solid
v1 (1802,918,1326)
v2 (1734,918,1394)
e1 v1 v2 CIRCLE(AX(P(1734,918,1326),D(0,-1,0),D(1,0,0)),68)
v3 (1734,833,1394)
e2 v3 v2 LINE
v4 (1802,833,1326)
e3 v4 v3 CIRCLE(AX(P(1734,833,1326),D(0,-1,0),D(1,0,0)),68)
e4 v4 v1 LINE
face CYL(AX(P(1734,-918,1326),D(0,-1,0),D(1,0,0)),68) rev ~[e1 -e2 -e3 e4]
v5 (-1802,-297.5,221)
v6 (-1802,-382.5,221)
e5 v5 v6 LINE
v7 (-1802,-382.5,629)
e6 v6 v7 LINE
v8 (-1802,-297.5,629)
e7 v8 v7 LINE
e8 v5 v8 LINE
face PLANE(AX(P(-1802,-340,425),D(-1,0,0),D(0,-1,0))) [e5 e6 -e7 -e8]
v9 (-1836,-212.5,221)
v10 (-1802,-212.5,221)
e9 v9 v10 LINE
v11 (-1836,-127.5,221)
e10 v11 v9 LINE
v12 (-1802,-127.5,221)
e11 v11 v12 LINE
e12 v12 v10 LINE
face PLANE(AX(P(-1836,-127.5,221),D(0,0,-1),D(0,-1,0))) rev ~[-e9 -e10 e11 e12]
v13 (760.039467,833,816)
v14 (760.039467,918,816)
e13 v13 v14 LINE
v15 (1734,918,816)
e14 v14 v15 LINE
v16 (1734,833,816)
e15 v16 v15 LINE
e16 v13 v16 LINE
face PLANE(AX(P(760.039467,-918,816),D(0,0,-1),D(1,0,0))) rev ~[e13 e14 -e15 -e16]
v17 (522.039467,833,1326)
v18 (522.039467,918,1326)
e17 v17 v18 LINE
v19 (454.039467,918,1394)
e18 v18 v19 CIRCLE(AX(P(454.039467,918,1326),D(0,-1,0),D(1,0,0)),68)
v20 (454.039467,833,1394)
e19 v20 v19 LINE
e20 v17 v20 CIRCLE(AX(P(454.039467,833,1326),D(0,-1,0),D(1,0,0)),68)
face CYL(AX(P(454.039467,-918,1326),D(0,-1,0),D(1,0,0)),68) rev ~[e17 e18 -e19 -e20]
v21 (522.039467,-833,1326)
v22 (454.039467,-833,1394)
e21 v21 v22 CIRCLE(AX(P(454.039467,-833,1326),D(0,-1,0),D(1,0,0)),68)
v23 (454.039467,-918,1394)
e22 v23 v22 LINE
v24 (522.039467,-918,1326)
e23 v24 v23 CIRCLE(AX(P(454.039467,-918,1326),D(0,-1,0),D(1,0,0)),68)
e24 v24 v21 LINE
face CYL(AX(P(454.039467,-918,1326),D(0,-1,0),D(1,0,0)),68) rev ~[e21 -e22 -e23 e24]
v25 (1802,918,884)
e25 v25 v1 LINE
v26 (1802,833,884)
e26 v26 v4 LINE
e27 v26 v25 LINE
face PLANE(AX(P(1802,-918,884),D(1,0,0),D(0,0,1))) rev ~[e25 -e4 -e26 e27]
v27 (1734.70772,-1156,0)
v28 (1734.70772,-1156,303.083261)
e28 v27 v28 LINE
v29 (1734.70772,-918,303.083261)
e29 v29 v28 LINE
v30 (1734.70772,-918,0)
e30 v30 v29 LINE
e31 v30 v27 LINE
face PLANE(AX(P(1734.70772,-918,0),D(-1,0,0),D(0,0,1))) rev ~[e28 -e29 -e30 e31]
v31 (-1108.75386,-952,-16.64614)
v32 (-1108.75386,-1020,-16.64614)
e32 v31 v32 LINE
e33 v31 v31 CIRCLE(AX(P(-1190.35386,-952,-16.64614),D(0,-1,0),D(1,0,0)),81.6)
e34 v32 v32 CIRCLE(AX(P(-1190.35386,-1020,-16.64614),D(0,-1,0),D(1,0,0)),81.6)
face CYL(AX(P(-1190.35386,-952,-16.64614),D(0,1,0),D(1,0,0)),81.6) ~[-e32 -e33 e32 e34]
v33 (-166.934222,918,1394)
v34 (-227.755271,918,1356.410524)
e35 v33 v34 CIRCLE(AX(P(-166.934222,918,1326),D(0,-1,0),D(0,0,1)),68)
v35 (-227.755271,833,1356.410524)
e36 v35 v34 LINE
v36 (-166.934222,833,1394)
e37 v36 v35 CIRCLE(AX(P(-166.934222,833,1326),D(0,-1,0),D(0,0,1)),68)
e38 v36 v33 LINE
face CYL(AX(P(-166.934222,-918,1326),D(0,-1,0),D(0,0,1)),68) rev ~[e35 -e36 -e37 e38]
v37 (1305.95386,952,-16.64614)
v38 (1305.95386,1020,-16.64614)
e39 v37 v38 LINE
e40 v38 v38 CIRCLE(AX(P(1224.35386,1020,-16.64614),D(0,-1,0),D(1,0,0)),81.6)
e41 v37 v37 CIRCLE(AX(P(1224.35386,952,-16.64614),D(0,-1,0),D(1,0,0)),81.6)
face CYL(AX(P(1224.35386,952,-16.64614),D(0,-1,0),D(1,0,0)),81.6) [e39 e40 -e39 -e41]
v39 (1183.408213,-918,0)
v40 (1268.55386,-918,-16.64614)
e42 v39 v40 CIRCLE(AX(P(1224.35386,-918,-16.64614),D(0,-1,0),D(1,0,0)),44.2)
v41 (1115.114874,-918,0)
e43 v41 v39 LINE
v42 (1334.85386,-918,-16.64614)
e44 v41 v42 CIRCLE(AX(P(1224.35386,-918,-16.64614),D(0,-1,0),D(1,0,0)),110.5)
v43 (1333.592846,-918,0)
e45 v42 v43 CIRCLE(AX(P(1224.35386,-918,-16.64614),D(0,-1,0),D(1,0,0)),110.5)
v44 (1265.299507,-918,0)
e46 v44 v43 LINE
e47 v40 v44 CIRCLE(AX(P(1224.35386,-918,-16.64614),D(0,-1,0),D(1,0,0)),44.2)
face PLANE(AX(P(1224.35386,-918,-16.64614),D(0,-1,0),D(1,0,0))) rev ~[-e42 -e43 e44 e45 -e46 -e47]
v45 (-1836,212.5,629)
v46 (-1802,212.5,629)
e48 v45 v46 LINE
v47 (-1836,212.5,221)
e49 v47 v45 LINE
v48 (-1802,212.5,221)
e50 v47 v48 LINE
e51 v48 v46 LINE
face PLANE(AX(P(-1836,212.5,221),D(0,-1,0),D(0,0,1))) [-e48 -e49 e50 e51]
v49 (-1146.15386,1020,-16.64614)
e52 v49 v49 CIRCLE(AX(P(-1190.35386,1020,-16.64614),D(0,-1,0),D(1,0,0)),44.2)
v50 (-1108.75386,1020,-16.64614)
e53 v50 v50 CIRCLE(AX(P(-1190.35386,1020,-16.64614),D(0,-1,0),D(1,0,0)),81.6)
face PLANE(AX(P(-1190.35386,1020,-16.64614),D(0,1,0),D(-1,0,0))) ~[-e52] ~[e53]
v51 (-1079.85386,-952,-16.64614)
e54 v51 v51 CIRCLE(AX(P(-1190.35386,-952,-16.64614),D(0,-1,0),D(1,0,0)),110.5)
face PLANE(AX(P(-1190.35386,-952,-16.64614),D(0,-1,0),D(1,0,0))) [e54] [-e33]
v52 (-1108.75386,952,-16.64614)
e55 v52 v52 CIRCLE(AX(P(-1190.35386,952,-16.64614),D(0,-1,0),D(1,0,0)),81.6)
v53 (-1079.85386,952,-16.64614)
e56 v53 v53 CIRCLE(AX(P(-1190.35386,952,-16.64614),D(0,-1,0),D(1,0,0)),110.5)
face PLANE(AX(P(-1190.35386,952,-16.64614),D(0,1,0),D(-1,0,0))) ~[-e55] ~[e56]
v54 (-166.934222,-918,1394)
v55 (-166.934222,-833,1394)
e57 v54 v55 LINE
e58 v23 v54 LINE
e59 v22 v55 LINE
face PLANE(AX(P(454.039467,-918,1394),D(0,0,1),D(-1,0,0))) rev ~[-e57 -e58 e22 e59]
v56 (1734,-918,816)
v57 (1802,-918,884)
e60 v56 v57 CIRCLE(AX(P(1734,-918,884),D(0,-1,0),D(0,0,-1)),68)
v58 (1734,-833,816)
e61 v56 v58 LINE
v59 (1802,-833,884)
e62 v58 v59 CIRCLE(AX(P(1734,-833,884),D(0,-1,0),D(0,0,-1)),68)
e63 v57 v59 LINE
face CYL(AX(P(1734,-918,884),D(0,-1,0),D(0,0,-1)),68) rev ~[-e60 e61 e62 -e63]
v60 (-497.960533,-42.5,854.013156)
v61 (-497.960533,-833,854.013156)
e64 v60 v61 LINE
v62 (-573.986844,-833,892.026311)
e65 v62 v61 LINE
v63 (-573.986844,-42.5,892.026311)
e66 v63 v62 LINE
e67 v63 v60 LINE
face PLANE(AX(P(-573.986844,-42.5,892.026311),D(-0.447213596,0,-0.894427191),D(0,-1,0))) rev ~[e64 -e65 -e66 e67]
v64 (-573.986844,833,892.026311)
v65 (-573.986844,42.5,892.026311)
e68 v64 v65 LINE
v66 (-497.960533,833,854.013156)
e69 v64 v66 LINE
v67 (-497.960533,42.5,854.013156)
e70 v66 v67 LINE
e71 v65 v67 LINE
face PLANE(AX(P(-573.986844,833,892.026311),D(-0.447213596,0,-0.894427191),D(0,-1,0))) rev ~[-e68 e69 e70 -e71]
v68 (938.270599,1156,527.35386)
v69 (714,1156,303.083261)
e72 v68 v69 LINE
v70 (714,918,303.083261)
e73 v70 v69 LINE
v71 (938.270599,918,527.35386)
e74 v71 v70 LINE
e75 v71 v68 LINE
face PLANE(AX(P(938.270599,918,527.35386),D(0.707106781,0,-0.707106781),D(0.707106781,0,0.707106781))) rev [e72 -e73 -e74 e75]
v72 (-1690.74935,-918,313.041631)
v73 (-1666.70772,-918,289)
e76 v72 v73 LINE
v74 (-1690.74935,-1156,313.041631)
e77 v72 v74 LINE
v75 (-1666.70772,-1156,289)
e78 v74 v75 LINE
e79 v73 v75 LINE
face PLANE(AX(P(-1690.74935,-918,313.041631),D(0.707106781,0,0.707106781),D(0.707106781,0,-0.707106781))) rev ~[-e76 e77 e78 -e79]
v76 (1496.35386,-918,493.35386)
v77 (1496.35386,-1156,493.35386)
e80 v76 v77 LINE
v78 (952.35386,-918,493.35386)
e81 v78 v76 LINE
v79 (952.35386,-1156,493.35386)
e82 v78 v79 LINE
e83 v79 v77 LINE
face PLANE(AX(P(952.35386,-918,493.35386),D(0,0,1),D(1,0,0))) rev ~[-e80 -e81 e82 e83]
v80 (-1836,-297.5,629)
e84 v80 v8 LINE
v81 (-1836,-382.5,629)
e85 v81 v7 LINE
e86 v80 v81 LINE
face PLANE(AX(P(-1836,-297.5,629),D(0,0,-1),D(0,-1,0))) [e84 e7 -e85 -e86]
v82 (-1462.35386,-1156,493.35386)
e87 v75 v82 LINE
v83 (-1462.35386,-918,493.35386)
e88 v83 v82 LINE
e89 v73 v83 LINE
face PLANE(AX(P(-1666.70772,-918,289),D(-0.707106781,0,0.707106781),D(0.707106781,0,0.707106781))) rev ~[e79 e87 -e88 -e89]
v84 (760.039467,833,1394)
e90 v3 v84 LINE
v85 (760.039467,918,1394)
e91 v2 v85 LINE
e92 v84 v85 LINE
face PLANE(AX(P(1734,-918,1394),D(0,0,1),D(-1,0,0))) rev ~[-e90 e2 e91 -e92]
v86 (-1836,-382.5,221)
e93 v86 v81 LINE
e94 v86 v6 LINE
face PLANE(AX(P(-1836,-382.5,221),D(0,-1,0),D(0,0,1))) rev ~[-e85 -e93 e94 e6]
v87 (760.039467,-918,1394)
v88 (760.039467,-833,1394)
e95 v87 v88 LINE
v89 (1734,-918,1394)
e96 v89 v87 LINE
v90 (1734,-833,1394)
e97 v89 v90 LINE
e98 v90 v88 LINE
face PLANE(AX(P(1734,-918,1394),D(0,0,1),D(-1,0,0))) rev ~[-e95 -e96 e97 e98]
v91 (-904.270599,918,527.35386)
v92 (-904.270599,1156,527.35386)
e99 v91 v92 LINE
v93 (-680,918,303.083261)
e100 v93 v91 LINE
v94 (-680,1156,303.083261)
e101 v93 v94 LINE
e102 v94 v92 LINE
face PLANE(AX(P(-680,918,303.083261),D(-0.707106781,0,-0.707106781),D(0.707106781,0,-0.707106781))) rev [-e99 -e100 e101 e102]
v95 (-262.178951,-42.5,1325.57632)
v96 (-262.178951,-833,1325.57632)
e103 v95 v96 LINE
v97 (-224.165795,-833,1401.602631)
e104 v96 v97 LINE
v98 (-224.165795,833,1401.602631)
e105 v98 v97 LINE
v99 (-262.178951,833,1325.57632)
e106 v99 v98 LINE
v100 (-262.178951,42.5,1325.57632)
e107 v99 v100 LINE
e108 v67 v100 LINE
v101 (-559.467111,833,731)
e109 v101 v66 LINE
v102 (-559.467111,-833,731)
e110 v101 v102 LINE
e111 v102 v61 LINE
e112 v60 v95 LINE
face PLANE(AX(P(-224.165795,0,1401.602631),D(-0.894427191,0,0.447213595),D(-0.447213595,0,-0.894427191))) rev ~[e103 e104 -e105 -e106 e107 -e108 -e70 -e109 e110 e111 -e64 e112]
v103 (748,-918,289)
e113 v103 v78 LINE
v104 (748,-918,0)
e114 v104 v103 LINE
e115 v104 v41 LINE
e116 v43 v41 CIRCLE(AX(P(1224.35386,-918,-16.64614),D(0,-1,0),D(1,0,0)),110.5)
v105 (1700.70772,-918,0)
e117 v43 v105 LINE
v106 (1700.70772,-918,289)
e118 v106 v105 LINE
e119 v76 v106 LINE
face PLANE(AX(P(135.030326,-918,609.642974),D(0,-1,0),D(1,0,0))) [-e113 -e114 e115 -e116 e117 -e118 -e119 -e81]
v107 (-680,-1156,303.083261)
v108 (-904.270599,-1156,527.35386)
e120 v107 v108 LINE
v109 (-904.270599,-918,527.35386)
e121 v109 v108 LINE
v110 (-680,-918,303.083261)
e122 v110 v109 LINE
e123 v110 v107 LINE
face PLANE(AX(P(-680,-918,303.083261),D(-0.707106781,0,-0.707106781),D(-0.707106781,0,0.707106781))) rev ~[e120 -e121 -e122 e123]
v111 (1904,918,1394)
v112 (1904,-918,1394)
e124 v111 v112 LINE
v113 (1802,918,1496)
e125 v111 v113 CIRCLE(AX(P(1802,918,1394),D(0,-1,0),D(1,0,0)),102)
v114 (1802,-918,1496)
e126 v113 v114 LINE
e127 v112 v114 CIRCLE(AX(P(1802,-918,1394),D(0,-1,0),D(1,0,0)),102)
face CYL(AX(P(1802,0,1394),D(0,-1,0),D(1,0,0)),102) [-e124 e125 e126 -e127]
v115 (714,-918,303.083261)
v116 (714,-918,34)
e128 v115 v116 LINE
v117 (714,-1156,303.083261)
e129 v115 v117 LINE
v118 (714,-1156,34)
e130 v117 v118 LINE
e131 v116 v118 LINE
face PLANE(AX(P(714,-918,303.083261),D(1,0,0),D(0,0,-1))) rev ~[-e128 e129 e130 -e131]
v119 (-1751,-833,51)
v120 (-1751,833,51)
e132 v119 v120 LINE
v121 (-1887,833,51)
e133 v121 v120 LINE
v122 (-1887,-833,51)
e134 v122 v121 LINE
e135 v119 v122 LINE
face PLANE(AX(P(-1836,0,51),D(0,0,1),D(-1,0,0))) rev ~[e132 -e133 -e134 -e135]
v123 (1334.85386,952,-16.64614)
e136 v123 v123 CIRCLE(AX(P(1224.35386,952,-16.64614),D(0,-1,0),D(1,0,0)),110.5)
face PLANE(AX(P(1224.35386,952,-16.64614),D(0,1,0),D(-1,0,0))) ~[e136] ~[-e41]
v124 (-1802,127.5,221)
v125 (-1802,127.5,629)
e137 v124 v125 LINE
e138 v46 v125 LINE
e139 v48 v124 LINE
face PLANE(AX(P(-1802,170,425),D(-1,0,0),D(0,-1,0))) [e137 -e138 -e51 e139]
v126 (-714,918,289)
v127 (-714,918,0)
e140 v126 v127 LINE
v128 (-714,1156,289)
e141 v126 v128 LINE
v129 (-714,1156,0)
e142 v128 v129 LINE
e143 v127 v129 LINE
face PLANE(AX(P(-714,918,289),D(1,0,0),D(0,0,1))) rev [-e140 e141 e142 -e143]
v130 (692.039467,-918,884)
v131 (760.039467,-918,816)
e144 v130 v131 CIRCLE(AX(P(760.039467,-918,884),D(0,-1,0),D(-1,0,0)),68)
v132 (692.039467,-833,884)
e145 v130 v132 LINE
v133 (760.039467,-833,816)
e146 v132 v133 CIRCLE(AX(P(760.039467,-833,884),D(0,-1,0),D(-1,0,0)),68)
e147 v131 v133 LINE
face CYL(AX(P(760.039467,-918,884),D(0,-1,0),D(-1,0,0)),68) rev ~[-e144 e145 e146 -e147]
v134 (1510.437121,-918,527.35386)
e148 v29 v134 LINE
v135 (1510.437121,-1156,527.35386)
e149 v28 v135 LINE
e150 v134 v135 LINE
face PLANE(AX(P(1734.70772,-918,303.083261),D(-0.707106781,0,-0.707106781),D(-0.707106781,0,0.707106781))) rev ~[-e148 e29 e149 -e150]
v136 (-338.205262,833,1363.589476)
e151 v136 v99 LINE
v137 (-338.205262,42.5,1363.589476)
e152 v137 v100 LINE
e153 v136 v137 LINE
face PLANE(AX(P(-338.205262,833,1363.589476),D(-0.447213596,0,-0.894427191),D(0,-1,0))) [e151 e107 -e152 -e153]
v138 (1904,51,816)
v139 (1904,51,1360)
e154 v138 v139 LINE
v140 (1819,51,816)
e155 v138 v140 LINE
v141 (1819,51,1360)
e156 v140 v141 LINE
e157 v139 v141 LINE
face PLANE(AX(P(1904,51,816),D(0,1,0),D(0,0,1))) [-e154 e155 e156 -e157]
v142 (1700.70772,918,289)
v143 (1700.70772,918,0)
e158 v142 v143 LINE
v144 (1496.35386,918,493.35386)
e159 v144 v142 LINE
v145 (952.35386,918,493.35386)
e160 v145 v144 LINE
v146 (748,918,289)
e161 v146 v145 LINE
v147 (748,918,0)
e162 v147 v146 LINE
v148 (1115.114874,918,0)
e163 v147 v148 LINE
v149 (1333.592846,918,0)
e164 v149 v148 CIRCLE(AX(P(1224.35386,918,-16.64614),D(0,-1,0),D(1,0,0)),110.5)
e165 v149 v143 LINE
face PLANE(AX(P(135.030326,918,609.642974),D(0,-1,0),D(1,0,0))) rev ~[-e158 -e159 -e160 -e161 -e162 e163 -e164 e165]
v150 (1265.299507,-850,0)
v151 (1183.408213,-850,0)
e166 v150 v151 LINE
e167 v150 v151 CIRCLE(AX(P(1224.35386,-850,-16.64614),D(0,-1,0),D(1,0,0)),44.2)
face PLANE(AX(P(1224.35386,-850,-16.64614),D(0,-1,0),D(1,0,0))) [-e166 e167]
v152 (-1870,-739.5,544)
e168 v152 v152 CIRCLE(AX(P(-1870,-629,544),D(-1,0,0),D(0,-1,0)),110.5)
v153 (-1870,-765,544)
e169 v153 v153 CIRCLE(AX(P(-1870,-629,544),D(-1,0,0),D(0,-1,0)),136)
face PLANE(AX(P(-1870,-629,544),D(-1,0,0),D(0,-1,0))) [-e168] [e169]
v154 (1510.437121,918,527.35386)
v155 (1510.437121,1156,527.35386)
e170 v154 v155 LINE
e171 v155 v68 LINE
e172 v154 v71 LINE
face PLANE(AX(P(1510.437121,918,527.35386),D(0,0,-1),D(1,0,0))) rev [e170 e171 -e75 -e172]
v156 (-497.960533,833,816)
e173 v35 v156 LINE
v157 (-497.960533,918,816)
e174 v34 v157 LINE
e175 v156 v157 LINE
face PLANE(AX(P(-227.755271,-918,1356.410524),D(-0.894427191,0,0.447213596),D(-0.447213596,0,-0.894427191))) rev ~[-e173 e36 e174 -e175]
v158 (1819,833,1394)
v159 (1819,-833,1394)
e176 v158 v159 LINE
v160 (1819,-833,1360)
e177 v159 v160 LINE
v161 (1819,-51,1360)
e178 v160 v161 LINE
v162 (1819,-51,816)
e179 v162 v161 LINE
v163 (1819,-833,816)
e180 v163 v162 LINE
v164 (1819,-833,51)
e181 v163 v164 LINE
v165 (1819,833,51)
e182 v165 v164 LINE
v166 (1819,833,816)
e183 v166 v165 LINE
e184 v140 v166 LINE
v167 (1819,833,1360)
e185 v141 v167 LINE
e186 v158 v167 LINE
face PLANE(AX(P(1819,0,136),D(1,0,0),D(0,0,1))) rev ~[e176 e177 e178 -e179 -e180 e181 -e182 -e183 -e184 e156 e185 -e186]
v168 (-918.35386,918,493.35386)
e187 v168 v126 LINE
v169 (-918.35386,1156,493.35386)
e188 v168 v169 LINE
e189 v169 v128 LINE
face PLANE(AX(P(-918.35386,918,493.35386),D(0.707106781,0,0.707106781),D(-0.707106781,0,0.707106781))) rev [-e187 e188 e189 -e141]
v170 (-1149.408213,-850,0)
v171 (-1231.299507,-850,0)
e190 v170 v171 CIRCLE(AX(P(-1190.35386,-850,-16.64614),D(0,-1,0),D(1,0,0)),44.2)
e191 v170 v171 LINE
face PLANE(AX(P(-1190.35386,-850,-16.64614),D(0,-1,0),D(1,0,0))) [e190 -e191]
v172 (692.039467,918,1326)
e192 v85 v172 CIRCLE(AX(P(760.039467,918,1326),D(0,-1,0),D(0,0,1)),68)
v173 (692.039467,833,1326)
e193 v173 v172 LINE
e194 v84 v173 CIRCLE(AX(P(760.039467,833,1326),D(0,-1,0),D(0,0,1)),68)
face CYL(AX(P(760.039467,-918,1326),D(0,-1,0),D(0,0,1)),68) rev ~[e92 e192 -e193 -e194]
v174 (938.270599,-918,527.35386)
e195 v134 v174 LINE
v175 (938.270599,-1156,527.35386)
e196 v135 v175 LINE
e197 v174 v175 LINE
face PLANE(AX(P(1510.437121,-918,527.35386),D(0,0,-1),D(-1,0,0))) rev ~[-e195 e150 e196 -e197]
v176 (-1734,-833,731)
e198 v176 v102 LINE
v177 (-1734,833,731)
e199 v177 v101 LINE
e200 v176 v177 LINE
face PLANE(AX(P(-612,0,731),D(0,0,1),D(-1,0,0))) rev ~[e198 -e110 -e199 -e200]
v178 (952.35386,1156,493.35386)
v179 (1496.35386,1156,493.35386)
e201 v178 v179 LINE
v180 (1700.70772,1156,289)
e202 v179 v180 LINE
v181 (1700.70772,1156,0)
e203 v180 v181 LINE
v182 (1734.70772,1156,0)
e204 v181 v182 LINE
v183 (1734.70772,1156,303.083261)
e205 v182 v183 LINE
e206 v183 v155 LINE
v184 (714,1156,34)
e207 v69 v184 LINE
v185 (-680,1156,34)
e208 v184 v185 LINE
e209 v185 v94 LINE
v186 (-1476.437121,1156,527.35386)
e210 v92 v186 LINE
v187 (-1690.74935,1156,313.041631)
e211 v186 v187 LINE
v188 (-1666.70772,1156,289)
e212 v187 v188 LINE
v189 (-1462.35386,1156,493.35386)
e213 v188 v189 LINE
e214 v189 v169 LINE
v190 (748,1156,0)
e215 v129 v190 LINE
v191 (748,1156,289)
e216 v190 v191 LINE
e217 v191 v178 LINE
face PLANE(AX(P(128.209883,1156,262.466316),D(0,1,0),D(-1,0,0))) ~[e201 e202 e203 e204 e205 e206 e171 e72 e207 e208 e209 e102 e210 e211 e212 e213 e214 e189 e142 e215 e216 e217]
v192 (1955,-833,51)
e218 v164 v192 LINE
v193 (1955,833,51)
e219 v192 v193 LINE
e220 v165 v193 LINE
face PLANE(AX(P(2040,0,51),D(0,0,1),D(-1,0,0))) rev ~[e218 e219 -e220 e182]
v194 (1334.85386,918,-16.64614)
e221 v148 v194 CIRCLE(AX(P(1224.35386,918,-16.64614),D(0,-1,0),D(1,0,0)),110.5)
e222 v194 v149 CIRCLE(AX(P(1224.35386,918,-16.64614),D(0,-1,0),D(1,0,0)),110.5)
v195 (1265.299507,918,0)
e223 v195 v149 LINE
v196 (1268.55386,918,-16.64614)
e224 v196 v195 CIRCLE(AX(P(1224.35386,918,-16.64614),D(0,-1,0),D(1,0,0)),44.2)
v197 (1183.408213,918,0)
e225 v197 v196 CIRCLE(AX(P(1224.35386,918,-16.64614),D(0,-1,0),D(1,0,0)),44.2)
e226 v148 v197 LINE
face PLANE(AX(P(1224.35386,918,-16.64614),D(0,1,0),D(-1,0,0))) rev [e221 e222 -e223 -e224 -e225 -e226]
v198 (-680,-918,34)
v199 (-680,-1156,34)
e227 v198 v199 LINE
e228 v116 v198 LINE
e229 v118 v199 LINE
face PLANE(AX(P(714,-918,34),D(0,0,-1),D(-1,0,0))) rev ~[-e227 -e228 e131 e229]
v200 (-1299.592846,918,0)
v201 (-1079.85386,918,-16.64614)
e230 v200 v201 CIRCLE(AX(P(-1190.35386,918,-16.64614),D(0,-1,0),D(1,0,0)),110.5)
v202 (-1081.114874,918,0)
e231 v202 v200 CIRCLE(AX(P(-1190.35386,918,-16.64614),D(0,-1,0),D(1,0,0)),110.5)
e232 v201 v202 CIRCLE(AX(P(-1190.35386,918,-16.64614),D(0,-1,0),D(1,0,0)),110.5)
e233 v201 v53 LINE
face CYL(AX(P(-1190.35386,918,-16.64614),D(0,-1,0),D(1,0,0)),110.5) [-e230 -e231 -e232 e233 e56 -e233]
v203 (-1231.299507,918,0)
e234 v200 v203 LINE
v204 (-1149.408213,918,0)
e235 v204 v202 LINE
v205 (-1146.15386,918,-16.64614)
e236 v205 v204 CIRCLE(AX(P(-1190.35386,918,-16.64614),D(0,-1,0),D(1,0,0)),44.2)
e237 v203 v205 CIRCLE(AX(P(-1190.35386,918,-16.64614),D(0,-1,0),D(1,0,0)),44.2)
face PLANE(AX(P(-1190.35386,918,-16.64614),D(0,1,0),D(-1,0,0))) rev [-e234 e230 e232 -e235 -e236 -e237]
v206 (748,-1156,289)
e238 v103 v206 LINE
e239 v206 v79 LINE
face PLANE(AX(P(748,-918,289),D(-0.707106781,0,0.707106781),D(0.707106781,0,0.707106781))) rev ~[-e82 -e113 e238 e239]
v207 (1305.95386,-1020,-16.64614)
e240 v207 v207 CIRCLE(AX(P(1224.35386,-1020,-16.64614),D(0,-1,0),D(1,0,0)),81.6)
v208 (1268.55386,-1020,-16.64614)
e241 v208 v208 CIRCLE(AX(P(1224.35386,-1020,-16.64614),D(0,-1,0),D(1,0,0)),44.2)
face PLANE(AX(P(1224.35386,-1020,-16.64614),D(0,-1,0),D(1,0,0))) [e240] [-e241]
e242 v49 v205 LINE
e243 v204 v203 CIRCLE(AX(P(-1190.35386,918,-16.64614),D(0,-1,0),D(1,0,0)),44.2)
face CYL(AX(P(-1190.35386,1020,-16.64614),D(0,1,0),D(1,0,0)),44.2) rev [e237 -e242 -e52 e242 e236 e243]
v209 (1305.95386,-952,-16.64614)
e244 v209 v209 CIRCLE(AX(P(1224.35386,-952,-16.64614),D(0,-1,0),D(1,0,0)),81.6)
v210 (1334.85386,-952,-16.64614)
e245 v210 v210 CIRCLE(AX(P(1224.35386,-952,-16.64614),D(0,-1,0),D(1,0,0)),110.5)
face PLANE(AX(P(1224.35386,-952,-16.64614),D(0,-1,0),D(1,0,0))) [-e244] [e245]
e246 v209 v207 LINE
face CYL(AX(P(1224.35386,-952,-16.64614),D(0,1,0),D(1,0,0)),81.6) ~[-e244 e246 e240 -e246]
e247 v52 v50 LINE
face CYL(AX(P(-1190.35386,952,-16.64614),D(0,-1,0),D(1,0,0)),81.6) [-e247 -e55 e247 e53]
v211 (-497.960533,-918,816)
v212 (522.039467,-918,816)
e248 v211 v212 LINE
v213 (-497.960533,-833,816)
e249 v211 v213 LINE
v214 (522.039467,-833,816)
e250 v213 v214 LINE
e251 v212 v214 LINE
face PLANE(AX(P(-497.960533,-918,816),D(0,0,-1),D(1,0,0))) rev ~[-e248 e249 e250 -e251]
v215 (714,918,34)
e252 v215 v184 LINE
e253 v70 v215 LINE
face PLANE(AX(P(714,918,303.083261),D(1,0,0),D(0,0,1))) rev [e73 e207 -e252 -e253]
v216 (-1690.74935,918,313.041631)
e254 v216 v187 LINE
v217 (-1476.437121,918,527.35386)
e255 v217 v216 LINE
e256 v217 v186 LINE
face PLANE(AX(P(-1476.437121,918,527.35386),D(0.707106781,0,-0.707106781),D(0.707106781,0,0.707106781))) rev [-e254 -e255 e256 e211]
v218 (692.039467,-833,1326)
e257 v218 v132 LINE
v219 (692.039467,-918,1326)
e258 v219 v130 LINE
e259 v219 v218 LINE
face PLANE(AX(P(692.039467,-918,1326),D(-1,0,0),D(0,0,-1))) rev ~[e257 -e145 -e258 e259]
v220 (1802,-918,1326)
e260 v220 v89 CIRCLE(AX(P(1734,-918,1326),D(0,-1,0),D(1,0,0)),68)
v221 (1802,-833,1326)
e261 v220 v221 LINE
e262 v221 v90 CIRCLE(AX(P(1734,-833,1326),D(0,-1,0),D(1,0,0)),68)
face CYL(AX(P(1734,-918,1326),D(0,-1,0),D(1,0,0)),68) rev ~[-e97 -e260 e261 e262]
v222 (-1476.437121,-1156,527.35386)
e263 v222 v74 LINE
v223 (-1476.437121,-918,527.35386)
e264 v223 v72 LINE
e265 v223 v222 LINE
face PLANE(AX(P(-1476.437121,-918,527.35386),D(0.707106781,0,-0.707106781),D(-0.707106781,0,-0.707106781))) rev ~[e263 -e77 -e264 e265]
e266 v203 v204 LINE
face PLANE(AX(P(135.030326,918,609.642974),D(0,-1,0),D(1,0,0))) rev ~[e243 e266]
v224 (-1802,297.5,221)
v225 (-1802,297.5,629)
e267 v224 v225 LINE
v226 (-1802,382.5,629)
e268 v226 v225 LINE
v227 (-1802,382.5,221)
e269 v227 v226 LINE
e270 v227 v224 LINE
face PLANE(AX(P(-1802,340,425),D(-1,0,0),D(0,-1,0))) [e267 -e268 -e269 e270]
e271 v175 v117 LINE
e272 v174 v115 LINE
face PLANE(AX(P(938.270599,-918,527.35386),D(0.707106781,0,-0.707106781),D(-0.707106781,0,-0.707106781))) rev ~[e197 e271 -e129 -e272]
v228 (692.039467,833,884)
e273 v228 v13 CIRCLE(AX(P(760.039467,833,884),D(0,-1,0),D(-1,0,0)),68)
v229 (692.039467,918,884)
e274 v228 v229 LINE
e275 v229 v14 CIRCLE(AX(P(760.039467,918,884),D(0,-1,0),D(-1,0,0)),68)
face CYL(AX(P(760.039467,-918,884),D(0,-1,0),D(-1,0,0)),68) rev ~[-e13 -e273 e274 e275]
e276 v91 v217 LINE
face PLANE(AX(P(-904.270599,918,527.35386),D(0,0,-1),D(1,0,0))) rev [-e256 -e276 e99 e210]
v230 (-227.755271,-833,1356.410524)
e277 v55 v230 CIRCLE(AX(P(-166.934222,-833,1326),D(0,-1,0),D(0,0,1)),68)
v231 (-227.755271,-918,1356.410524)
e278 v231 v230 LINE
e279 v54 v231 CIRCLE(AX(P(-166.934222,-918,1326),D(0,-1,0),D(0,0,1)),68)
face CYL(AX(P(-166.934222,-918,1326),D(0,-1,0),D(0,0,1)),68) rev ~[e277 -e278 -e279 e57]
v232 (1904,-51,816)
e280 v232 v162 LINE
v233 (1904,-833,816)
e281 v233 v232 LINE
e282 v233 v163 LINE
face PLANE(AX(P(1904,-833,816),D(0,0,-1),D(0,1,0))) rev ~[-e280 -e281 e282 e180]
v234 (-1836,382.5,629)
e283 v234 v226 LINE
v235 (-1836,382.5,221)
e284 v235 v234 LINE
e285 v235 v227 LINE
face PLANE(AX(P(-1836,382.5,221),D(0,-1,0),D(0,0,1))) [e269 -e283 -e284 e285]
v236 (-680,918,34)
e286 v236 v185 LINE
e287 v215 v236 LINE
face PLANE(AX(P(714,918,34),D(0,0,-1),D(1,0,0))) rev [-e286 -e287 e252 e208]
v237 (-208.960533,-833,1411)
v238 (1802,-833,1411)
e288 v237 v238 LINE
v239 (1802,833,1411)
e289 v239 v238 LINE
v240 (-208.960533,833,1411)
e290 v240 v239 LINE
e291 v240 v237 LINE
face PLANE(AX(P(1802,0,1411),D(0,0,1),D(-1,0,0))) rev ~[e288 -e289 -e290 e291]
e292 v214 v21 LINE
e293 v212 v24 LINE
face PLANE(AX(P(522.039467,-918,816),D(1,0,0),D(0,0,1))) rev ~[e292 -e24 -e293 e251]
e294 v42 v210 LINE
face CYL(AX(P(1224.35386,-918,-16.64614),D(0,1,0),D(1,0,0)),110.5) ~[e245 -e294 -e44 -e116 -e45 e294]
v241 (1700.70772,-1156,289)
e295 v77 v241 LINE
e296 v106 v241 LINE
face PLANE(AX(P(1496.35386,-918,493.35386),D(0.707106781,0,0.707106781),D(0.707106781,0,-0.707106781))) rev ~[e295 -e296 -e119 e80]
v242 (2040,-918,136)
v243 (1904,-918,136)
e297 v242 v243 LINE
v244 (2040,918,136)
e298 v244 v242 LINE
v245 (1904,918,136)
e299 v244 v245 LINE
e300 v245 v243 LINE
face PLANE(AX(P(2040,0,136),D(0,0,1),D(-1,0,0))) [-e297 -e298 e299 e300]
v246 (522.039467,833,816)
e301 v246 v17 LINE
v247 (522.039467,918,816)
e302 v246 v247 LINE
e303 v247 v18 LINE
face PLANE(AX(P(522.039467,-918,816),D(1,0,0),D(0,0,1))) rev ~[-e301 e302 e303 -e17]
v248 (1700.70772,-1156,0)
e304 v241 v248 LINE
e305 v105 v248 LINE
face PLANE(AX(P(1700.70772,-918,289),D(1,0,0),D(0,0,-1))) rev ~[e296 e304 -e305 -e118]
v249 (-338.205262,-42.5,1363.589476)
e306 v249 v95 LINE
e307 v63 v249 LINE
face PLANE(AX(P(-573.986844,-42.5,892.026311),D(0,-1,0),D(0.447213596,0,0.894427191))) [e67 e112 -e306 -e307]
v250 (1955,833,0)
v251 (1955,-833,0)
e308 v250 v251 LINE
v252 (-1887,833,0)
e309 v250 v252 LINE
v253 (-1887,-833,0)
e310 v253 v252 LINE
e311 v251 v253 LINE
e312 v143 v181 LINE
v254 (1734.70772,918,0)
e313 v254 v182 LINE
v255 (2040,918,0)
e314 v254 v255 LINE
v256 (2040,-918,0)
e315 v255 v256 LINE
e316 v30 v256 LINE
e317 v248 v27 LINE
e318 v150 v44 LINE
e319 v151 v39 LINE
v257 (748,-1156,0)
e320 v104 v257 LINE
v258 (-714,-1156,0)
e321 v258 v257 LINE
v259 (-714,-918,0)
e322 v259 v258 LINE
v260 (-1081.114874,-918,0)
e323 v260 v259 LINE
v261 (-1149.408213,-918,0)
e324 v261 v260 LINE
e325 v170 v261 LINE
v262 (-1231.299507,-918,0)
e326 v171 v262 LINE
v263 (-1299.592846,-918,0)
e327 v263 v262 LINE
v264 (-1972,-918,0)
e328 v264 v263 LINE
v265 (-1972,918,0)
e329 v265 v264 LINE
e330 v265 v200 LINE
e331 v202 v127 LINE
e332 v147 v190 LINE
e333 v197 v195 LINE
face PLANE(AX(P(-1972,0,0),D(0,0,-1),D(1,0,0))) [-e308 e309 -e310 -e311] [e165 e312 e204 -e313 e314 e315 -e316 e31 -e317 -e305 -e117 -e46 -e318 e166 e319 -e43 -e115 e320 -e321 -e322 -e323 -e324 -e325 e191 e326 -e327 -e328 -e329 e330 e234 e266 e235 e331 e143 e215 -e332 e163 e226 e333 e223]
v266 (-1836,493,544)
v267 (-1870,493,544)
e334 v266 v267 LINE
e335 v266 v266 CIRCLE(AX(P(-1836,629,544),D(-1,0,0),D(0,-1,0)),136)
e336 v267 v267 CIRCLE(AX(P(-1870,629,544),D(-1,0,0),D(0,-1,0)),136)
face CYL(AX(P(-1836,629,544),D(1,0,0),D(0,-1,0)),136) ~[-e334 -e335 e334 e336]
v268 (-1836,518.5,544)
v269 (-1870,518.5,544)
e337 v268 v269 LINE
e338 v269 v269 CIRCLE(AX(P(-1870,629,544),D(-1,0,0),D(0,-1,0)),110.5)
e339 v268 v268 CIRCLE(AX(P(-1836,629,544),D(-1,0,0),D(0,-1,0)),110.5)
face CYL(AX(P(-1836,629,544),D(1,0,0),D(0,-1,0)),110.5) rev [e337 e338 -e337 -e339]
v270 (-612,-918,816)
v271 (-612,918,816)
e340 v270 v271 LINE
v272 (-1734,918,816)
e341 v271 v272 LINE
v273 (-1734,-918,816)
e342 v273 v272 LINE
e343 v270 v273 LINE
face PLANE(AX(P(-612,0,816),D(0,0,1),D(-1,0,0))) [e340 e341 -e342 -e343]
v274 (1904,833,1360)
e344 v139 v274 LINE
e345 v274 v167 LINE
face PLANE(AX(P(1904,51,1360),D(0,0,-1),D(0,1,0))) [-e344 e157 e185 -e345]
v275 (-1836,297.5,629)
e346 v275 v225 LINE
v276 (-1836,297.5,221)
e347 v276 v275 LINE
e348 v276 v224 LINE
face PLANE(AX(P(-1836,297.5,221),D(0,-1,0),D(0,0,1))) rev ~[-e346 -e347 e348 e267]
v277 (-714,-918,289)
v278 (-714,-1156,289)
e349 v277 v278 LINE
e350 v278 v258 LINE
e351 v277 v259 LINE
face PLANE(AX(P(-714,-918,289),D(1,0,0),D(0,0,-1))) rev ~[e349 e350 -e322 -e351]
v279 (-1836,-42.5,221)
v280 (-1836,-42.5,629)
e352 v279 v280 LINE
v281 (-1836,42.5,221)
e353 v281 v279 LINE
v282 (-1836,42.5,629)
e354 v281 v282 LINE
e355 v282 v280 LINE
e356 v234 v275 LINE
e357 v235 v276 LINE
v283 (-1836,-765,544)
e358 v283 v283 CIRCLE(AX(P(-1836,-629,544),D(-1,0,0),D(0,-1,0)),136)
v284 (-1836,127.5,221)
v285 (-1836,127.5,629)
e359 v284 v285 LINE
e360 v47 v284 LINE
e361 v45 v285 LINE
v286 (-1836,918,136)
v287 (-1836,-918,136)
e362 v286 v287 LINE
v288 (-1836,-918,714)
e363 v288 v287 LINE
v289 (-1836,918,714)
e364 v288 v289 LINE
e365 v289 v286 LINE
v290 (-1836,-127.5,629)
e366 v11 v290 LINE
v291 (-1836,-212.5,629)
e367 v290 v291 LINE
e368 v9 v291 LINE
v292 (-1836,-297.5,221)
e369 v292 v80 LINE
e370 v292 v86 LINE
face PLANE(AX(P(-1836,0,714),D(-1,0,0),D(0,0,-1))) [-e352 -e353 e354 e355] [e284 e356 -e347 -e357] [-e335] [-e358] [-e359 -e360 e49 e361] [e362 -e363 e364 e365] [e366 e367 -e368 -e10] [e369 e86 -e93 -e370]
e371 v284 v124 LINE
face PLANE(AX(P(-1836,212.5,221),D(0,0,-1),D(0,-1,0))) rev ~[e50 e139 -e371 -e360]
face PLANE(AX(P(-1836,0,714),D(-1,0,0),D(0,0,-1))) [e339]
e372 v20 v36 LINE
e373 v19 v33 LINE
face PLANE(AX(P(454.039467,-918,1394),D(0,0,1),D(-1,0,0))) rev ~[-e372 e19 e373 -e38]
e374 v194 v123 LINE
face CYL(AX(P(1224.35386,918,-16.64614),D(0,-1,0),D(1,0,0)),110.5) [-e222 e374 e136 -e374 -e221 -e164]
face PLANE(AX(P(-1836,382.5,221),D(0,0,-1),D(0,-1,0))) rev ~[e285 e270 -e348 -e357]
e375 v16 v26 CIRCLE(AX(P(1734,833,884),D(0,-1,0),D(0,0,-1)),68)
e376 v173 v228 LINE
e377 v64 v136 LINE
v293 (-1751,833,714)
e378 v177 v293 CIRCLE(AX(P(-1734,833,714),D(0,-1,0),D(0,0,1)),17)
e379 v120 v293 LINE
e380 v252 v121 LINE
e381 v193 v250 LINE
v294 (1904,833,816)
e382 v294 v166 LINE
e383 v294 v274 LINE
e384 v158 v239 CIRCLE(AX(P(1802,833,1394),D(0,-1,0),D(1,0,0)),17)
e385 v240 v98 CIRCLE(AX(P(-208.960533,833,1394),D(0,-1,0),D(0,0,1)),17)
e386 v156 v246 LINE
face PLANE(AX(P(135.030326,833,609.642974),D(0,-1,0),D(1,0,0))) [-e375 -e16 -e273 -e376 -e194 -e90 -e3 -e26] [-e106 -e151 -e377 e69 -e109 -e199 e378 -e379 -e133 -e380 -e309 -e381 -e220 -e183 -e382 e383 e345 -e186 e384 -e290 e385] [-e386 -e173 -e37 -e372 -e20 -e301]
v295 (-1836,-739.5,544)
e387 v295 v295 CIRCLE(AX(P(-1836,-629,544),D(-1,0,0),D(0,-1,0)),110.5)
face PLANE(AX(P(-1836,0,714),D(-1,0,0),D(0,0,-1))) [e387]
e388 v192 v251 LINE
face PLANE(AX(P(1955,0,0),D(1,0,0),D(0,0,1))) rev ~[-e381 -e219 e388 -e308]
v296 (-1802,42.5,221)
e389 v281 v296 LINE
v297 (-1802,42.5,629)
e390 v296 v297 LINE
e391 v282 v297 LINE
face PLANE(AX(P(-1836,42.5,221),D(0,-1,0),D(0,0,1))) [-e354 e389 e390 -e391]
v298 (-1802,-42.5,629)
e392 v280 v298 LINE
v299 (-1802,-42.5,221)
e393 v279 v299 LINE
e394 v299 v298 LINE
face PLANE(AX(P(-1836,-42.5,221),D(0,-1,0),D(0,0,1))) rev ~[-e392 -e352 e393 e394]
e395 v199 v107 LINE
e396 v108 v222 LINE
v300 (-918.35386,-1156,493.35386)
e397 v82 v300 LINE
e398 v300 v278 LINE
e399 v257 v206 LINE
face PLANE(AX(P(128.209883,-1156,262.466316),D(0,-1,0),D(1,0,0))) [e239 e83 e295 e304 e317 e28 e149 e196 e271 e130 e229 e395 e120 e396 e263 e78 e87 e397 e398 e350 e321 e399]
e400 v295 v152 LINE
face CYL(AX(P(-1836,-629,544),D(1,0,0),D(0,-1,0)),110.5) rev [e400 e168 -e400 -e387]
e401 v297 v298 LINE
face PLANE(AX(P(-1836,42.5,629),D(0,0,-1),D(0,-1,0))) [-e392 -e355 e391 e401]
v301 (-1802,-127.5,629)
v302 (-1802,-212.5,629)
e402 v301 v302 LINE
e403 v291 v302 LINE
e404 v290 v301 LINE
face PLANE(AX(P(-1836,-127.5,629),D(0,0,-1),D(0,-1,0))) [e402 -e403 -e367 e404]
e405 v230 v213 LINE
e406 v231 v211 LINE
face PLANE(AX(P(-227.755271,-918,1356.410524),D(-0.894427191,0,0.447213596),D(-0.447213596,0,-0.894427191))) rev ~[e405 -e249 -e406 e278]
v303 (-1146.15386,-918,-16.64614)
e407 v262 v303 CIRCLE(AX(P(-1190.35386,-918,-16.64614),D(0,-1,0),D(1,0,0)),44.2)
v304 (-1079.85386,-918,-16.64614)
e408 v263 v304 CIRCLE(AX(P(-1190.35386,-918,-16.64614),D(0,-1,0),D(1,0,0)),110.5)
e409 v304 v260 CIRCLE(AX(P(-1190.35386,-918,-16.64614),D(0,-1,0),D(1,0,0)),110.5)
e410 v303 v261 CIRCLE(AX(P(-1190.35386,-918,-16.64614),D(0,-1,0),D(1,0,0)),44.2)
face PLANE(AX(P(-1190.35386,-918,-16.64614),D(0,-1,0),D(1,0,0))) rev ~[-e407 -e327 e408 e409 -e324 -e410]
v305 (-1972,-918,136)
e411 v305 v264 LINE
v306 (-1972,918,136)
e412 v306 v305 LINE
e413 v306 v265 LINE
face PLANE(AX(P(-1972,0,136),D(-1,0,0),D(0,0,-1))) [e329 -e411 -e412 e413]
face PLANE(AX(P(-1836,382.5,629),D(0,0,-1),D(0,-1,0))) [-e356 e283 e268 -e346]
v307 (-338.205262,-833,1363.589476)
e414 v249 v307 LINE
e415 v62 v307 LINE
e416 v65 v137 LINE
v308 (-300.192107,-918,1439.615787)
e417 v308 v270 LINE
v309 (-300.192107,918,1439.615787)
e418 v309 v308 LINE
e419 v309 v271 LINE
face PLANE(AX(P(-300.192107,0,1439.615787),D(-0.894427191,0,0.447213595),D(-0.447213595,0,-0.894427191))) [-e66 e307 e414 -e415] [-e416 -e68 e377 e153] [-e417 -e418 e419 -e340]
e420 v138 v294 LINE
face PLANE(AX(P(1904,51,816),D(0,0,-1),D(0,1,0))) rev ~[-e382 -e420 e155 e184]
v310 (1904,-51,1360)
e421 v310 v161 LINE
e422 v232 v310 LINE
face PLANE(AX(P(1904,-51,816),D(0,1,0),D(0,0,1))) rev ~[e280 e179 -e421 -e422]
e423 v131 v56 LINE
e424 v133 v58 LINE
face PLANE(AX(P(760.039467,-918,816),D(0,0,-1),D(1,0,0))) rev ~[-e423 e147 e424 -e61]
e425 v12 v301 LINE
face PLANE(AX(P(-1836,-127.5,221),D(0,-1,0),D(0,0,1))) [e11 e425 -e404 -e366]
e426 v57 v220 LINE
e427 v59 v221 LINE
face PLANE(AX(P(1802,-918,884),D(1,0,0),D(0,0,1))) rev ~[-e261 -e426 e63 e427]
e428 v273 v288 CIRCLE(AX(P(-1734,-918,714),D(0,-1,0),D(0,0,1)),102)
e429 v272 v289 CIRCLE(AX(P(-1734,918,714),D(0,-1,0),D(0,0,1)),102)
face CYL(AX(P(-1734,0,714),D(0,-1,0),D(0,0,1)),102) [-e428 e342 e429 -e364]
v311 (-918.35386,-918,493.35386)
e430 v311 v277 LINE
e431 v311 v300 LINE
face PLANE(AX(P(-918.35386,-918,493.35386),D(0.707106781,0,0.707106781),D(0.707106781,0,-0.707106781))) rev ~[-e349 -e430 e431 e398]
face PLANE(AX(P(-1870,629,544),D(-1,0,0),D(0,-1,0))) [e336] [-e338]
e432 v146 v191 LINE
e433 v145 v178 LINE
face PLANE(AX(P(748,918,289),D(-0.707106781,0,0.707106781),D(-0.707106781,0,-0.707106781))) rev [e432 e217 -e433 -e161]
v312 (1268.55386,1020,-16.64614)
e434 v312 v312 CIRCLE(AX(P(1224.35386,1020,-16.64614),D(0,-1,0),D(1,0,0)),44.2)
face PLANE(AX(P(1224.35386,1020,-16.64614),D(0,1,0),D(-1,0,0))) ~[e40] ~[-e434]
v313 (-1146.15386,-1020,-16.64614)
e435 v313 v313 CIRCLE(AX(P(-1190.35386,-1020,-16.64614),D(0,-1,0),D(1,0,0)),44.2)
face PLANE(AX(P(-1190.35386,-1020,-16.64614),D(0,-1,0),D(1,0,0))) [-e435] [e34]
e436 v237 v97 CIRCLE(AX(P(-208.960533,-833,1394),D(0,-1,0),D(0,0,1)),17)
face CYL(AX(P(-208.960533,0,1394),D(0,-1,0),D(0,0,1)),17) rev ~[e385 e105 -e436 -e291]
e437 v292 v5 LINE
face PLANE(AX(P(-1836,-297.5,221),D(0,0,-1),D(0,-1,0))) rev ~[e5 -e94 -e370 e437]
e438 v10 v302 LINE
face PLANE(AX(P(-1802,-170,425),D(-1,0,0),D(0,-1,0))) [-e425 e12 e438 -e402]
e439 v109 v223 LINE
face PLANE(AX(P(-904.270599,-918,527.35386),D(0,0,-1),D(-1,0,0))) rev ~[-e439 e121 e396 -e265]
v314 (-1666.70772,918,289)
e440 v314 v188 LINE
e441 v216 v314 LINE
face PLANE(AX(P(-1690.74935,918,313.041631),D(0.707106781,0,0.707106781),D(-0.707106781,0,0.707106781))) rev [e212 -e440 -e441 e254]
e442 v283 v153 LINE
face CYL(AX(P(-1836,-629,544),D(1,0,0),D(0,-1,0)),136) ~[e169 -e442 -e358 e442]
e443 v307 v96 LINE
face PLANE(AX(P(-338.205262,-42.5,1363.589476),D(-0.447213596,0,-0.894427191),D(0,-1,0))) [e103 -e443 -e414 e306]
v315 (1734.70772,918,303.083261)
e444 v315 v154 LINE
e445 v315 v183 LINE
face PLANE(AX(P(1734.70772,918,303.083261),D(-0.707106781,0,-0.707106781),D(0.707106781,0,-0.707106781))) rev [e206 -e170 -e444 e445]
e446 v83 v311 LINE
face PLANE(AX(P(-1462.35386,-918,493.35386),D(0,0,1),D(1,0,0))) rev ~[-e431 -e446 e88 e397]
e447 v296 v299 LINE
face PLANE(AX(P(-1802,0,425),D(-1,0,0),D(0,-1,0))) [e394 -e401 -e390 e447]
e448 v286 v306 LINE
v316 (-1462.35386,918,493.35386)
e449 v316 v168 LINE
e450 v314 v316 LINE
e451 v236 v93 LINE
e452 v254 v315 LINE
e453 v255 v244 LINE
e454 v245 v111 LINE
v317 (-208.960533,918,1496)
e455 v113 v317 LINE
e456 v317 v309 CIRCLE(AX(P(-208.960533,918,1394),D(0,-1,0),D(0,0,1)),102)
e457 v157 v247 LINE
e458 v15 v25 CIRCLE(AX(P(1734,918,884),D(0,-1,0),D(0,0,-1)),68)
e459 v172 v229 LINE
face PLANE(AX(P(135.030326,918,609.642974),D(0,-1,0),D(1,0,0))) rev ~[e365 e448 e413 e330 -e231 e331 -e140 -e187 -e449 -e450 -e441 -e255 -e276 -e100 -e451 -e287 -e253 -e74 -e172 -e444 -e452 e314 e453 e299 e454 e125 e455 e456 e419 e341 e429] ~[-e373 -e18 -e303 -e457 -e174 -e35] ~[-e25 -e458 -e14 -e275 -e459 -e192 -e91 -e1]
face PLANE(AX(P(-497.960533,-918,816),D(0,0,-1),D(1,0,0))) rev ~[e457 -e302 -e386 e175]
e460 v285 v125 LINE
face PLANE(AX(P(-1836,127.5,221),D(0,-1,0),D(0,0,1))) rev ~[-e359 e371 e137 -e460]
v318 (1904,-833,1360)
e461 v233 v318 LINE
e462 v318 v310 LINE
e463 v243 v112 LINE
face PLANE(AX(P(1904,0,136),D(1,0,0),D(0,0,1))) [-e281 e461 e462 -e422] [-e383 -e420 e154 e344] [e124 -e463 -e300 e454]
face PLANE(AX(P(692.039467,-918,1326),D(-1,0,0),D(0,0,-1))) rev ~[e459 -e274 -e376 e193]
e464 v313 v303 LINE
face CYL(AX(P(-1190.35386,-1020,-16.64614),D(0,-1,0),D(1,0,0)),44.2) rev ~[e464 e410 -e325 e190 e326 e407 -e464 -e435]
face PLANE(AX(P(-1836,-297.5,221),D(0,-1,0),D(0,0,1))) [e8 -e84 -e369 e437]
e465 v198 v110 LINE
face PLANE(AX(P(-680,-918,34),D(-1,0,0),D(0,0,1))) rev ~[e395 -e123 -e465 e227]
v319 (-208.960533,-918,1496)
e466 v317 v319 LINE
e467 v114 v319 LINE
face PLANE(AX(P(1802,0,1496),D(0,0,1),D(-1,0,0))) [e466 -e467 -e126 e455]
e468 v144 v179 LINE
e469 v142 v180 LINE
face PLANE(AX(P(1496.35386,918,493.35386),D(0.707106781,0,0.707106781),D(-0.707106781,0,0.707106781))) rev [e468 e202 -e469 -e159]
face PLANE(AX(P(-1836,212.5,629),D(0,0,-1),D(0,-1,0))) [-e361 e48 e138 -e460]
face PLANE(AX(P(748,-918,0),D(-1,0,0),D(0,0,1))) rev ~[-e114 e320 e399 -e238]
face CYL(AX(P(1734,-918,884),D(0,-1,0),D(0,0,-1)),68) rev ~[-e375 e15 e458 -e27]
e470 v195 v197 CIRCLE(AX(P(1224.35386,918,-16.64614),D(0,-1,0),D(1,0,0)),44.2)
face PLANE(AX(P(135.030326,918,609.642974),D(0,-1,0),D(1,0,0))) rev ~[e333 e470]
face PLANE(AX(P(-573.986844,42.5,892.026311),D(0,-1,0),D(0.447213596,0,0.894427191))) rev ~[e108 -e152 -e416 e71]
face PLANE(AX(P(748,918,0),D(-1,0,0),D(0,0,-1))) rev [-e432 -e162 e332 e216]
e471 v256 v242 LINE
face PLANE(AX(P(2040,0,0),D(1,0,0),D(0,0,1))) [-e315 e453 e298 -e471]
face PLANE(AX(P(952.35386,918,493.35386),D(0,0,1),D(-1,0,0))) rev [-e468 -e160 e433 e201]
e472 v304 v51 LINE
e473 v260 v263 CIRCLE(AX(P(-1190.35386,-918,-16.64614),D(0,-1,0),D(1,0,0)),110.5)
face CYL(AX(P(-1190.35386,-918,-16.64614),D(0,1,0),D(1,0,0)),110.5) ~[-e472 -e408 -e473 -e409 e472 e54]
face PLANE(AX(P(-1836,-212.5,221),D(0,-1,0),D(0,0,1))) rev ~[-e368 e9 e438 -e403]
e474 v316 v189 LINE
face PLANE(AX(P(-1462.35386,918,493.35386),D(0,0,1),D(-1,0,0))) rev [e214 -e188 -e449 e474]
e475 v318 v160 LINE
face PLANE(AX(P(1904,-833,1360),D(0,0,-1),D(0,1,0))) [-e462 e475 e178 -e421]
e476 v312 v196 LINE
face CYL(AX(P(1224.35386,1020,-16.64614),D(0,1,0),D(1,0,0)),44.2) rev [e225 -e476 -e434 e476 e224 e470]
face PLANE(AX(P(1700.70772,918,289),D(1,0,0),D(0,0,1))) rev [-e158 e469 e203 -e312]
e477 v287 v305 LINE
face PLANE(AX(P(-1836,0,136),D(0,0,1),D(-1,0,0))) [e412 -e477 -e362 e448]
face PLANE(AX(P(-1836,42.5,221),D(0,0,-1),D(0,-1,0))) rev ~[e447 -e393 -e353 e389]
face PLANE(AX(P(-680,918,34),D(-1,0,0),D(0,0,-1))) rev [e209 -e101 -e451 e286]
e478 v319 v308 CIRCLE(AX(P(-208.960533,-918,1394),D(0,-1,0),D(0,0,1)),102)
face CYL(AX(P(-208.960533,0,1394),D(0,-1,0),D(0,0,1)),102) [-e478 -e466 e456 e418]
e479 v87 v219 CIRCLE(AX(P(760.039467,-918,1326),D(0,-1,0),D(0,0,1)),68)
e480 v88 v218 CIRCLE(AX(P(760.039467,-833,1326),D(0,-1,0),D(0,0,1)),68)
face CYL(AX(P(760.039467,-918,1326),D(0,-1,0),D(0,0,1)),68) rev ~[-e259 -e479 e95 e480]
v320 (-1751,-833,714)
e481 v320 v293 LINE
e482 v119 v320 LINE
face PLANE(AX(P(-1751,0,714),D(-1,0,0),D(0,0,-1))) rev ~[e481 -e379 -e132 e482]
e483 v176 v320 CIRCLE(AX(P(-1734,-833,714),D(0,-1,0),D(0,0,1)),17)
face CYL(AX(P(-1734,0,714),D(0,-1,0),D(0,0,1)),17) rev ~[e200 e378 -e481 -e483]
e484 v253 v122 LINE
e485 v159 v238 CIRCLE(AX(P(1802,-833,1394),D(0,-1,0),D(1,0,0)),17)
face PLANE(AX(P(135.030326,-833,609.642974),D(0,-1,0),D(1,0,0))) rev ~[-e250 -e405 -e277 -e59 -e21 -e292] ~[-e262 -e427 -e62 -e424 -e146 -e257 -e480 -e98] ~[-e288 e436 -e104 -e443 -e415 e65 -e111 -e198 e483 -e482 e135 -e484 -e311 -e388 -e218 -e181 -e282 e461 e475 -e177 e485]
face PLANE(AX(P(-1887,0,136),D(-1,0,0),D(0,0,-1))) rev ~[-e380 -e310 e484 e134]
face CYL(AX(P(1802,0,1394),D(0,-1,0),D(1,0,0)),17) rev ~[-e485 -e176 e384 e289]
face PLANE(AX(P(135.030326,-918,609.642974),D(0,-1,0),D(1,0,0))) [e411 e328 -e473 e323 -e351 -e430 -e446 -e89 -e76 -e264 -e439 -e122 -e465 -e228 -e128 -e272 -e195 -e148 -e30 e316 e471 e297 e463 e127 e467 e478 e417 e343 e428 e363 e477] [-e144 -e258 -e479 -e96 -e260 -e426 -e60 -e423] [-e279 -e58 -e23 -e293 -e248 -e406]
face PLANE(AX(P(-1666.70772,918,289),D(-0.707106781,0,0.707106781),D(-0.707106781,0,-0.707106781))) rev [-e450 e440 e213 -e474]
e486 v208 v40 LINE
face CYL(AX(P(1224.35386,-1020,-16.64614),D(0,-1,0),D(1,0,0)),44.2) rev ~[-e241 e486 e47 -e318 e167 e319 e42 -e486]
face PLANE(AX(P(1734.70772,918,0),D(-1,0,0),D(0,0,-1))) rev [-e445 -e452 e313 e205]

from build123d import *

# Parameters (mm, degrees)
F1_DEPTH      = 27
F1_DEPTH_BACK = 27
F2_T          = -2.5
F3_W          = 23.25
F3_H          = 15.5065778087
F4_DEPTH      = 2.5
F6_DEPTH      = 54.001
F7_W          = 23
F7_H          = 16
F9_DEPTH      = 2.5
F8_R          = 4
F8_R_2        = 3.25
F10_DEPTH     = 1
F12_DEPTH     = 7
F14_R         = 3.25
F15_DEPTH     = 1
F16_R         = 2.4
F17_DEPTH     = 2
F18_R         = 1.3
F19_DEPTH     = 5
F21_W         = 2.5
F21_H         = 12
F22_DEPTH     = 1
F23_SCALE     = 34


with BuildPart() as f1:
    # F0 (on Front) → F1 (new body, two sides)
    with BuildSketch(Plane.XZ) as f1_sk:
        with BuildLine():
            Line((-54, 21), (-54, 4))
            Line((-54, 4), (-58, 4))
            Line((-58, 4), (-58, 0))
            Line((-58, 0), (-54, 0))
            Line((-54, 0), (56, 0))
            Line((56, 0), (60, 0))
            Line((60, 0), (60, 4))
            Line((60, 4), (56, 4))
            Line((56, 4), (56, 41))
            ThreePointArc((56, 41), (55.1213203436, 43.1213203436), (53, 44))
            Line((53, 44), (-6.1458980338, 44))
            ThreePointArc((-6.1458980338, 44), (-7.7230913701, 43.5519524251), (-8.8291796068, 42.3416407865))
            Line((-8.8291796068, 42.3416407865), (-18, 24))
            Line((-18, 24), (-51, 24))
            ThreePointArc((-51, 24), (-53.1213203436, 23.1213203436), (-54, 21))
        make_face()
    extrude(amount=F1_DEPTH)
    extrude(f1_sk.sketch, amount=-F1_DEPTH_BACK)

    # F2
    f2_openings = [f1.faces().sort_by_distance(p)[0] for p in [
        (1, 0, 0),
    ]]
    offset(amount=F2_T, openings=f2_openings, kind=Kind.INTERSECTION)

    # F3 (on face) → F4 (cut, through all)
    with BuildSketch(Plane(origin=(-24, 0, 12), x_dir=(0, -1, 0), z_dir=(-0.894427191, 0, 0.4472135955))):
        with Locations((-12.875, 23.6696967694)):
            Rectangle(F3_W, F3_H)
        with Locations((12.875, 23.6696967694)):
            Rectangle(F3_W, F3_H)
    extrude(amount=-F4_DEPTH, mode=Mode.SUBTRACT)

    # F5 (on face) → F6 (cut, through all)
    with BuildSketch(Plane.XZ.offset(27)):
        with BuildLine():
            Line((-6.6986844383, 39.894427191), (-14.6458980338, 24))
            Line((-14.6458980338, 24), (15.3541019662, 24))
            Line((15.3541019662, 24), (15.3541019662, 39))
            ThreePointArc((15.3541019662, 39), (14.7683155286, 40.4142135624), (13.3541019662, 41))
            Line((13.3541019662, 41), (-4.9098300563, 41))
            ThreePointArc((-4.9098300563, 41), (-5.9612922805, 40.7013016167), (-6.6986844383, 39.894427191))
        make_face()
        with BuildLine():
            Line((51, 41), (22.3541019662, 41))
            ThreePointArc((22.3541019662, 41), (20.9398884039, 40.4142135624), (20.3541019662, 39))
            Line((20.3541019662, 39), (20.3541019662, 26))
            ThreePointArc((20.3541019662, 26), (20.9398884039, 24.5857864376), (22.3541019662, 24))
            Line((22.3541019662, 24), (51, 24))
            ThreePointArc((51, 24), (52.4142135624, 24.5857864376), (53, 26))
            Line((53, 26), (53, 39))
            ThreePointArc((53, 39), (52.4142135624, 40.4142135624), (51, 41))
        make_face()
    extrude(amount=-F6_DEPTH, mode=Mode.SUBTRACT)

    # F7 (on face) → F9 (cut, through all)
    with BuildSketch(Plane.YZ.offset(56)):
        with Locations((13, 32)):
            Rectangle(F7_W, F7_H)
        with Locations((-13, 32)):
            Rectangle(F7_W, F7_H)
    extrude(amount=-F9_DEPTH, mode=Mode.SUBTRACT)

    # F8 (on face) → F10 (join)
    with BuildSketch(Plane(origin=(-54, 0, 0), x_dir=(0, -1, 0), z_dir=(-1, 0, 0))):
        with Locations((-18.5, 16)):
            Circle(F8_R)
        with Locations((-18.5, 16)):
            Circle(F8_R_2, mode=Mode.SUBTRACT)
        with Locations((18.5, 16)):
            Circle(F8_R)
        with Locations((18.5, 16)):
            Circle(F8_R_2, mode=Mode.SUBTRACT)
    extrude(amount=F10_DEPTH)

    # F13: F12 across plane


with BuildPart() as f12:
    # F11 (on face) → F12 (new body)
    with BuildSketch(Plane.XZ.offset(27)):
        Polygon((-49.7279220614, 9.2071067812), (-49.0208152802, 8.5), (-43.0104076401, 14.5104076401), (-27.0104076401, 14.5104076401), (-21, 8.5), (-21, 0), (22, 0), (22, 8.5), (28.0104076401, 14.5104076401), (44.0104076401, 14.5104076401), (50.0208152802, 8.5), (50.0208152802, 0), (51.0208152802, 0), (51.0208152802, 8.9142135624), (44.4246212025, 15.5104076401), (27.5961940777, 15.5104076401), (21, 8.9142135624), (21, 1), (-20, 1), (-20, 8.9142135624), (-26.5961940777, 15.5104076401), (-43.4246212025, 15.5104076401), align=None)
    extrude(amount=F12_DEPTH)


with BuildPart() as f1_1:
    add(f1.part)
    add(f12.part.mirror(Plane.XZ))


with BuildPart() as f15:
    # F14 (on face) → F15 (new body)
    with BuildSketch(Plane.XZ.offset(27)):
        with Locations((-35.0104076401, -0.4895923599)):
            Circle(F14_R)
    extrude(amount=F15_DEPTH)

    # F16 (on face) → F17 (join)
    with BuildSketch(Plane.XZ.offset(28)):
        with Locations((-35.0104076401, -0.4895923599)):
            Circle(F16_R)
    extrude(amount=F17_DEPTH)


with BuildPart() as f15b:
    # F14 (on face) → F15, piece 2 (new body)
    with BuildSketch(Plane.XZ.offset(27)):
        with Locations((36.0104076401, -0.4895923599)):
            Circle(F14_R)
    extrude(amount=F15_DEPTH)

    # F16 (on face) → F17, piece 2 (join)
    with BuildSketch(Plane.XZ.offset(28)):
        with Locations((36.0104076401, -0.4895923599)):
            Circle(F16_R)
    extrude(amount=F17_DEPTH)


with BuildPart() as f19_tool:
    # F18 (on face) → F19 (new body)
    with BuildSketch(Plane.XZ.offset(30)):
        with Locations((-35.0104076401, -0.4895923599)):
            Circle(F18_R)
        with Locations((36.0104076401, -0.4895923599)):
            Circle(F18_R)
    extrude(amount=-F19_DEPTH)


with BuildPart() as f1_2:
    add(f1_1.part)

    # F19: cut by f19_tool
    add(f19_tool.part, mode=Mode.SUBTRACT)



with BuildPart() as f15_1:
    add(f15.part)

    # F19: cut by f19_tool
    add(f19_tool.part, mode=Mode.SUBTRACT)


with BuildPart() as f15b_1:
    add(f15b.part)

    # F19: cut by f19_tool
    add(f19_tool.part, mode=Mode.SUBTRACT)


with BuildPart() as f1_3:
    add(f1_2.part)

    add(f12.part)  # F20 merges F12

    add(f15_1.part)  # F20 merges F15

    add(f15b_1.part)  # F20 merges F15b
    # F20: F15b, F15 across plane
    add(f15b_1.part.mirror(Plane.XZ))
    add(f15_1.part.mirror(Plane.XZ))

    # F21 (on face) → F22 (cut)
    with BuildSketch(Plane(origin=(-54, 0, 0), x_dir=(0, -1, 0), z_dir=(-1, 0, 0))):
        with Locations((-10, 12.5)):
            Rectangle(F21_W, F21_H)
        with Locations((-5, 12.5)):
            Rectangle(F21_W, F21_H)
        with Locations((5, 12.5)):
            Rectangle(F21_W, F21_H)
        with Locations((10, 12.5)):
            Rectangle(F21_W, F21_H)
        with Locations((0, 12.5)):
            Rectangle(F21_W, F21_H)
    extrude(amount=-F22_DEPTH, mode=Mode.SUBTRACT)


with BuildPart() as f1_4:
    # F23: moved
    add(f1_3.part.scale(F23_SCALE))


solid = f1_4.part
